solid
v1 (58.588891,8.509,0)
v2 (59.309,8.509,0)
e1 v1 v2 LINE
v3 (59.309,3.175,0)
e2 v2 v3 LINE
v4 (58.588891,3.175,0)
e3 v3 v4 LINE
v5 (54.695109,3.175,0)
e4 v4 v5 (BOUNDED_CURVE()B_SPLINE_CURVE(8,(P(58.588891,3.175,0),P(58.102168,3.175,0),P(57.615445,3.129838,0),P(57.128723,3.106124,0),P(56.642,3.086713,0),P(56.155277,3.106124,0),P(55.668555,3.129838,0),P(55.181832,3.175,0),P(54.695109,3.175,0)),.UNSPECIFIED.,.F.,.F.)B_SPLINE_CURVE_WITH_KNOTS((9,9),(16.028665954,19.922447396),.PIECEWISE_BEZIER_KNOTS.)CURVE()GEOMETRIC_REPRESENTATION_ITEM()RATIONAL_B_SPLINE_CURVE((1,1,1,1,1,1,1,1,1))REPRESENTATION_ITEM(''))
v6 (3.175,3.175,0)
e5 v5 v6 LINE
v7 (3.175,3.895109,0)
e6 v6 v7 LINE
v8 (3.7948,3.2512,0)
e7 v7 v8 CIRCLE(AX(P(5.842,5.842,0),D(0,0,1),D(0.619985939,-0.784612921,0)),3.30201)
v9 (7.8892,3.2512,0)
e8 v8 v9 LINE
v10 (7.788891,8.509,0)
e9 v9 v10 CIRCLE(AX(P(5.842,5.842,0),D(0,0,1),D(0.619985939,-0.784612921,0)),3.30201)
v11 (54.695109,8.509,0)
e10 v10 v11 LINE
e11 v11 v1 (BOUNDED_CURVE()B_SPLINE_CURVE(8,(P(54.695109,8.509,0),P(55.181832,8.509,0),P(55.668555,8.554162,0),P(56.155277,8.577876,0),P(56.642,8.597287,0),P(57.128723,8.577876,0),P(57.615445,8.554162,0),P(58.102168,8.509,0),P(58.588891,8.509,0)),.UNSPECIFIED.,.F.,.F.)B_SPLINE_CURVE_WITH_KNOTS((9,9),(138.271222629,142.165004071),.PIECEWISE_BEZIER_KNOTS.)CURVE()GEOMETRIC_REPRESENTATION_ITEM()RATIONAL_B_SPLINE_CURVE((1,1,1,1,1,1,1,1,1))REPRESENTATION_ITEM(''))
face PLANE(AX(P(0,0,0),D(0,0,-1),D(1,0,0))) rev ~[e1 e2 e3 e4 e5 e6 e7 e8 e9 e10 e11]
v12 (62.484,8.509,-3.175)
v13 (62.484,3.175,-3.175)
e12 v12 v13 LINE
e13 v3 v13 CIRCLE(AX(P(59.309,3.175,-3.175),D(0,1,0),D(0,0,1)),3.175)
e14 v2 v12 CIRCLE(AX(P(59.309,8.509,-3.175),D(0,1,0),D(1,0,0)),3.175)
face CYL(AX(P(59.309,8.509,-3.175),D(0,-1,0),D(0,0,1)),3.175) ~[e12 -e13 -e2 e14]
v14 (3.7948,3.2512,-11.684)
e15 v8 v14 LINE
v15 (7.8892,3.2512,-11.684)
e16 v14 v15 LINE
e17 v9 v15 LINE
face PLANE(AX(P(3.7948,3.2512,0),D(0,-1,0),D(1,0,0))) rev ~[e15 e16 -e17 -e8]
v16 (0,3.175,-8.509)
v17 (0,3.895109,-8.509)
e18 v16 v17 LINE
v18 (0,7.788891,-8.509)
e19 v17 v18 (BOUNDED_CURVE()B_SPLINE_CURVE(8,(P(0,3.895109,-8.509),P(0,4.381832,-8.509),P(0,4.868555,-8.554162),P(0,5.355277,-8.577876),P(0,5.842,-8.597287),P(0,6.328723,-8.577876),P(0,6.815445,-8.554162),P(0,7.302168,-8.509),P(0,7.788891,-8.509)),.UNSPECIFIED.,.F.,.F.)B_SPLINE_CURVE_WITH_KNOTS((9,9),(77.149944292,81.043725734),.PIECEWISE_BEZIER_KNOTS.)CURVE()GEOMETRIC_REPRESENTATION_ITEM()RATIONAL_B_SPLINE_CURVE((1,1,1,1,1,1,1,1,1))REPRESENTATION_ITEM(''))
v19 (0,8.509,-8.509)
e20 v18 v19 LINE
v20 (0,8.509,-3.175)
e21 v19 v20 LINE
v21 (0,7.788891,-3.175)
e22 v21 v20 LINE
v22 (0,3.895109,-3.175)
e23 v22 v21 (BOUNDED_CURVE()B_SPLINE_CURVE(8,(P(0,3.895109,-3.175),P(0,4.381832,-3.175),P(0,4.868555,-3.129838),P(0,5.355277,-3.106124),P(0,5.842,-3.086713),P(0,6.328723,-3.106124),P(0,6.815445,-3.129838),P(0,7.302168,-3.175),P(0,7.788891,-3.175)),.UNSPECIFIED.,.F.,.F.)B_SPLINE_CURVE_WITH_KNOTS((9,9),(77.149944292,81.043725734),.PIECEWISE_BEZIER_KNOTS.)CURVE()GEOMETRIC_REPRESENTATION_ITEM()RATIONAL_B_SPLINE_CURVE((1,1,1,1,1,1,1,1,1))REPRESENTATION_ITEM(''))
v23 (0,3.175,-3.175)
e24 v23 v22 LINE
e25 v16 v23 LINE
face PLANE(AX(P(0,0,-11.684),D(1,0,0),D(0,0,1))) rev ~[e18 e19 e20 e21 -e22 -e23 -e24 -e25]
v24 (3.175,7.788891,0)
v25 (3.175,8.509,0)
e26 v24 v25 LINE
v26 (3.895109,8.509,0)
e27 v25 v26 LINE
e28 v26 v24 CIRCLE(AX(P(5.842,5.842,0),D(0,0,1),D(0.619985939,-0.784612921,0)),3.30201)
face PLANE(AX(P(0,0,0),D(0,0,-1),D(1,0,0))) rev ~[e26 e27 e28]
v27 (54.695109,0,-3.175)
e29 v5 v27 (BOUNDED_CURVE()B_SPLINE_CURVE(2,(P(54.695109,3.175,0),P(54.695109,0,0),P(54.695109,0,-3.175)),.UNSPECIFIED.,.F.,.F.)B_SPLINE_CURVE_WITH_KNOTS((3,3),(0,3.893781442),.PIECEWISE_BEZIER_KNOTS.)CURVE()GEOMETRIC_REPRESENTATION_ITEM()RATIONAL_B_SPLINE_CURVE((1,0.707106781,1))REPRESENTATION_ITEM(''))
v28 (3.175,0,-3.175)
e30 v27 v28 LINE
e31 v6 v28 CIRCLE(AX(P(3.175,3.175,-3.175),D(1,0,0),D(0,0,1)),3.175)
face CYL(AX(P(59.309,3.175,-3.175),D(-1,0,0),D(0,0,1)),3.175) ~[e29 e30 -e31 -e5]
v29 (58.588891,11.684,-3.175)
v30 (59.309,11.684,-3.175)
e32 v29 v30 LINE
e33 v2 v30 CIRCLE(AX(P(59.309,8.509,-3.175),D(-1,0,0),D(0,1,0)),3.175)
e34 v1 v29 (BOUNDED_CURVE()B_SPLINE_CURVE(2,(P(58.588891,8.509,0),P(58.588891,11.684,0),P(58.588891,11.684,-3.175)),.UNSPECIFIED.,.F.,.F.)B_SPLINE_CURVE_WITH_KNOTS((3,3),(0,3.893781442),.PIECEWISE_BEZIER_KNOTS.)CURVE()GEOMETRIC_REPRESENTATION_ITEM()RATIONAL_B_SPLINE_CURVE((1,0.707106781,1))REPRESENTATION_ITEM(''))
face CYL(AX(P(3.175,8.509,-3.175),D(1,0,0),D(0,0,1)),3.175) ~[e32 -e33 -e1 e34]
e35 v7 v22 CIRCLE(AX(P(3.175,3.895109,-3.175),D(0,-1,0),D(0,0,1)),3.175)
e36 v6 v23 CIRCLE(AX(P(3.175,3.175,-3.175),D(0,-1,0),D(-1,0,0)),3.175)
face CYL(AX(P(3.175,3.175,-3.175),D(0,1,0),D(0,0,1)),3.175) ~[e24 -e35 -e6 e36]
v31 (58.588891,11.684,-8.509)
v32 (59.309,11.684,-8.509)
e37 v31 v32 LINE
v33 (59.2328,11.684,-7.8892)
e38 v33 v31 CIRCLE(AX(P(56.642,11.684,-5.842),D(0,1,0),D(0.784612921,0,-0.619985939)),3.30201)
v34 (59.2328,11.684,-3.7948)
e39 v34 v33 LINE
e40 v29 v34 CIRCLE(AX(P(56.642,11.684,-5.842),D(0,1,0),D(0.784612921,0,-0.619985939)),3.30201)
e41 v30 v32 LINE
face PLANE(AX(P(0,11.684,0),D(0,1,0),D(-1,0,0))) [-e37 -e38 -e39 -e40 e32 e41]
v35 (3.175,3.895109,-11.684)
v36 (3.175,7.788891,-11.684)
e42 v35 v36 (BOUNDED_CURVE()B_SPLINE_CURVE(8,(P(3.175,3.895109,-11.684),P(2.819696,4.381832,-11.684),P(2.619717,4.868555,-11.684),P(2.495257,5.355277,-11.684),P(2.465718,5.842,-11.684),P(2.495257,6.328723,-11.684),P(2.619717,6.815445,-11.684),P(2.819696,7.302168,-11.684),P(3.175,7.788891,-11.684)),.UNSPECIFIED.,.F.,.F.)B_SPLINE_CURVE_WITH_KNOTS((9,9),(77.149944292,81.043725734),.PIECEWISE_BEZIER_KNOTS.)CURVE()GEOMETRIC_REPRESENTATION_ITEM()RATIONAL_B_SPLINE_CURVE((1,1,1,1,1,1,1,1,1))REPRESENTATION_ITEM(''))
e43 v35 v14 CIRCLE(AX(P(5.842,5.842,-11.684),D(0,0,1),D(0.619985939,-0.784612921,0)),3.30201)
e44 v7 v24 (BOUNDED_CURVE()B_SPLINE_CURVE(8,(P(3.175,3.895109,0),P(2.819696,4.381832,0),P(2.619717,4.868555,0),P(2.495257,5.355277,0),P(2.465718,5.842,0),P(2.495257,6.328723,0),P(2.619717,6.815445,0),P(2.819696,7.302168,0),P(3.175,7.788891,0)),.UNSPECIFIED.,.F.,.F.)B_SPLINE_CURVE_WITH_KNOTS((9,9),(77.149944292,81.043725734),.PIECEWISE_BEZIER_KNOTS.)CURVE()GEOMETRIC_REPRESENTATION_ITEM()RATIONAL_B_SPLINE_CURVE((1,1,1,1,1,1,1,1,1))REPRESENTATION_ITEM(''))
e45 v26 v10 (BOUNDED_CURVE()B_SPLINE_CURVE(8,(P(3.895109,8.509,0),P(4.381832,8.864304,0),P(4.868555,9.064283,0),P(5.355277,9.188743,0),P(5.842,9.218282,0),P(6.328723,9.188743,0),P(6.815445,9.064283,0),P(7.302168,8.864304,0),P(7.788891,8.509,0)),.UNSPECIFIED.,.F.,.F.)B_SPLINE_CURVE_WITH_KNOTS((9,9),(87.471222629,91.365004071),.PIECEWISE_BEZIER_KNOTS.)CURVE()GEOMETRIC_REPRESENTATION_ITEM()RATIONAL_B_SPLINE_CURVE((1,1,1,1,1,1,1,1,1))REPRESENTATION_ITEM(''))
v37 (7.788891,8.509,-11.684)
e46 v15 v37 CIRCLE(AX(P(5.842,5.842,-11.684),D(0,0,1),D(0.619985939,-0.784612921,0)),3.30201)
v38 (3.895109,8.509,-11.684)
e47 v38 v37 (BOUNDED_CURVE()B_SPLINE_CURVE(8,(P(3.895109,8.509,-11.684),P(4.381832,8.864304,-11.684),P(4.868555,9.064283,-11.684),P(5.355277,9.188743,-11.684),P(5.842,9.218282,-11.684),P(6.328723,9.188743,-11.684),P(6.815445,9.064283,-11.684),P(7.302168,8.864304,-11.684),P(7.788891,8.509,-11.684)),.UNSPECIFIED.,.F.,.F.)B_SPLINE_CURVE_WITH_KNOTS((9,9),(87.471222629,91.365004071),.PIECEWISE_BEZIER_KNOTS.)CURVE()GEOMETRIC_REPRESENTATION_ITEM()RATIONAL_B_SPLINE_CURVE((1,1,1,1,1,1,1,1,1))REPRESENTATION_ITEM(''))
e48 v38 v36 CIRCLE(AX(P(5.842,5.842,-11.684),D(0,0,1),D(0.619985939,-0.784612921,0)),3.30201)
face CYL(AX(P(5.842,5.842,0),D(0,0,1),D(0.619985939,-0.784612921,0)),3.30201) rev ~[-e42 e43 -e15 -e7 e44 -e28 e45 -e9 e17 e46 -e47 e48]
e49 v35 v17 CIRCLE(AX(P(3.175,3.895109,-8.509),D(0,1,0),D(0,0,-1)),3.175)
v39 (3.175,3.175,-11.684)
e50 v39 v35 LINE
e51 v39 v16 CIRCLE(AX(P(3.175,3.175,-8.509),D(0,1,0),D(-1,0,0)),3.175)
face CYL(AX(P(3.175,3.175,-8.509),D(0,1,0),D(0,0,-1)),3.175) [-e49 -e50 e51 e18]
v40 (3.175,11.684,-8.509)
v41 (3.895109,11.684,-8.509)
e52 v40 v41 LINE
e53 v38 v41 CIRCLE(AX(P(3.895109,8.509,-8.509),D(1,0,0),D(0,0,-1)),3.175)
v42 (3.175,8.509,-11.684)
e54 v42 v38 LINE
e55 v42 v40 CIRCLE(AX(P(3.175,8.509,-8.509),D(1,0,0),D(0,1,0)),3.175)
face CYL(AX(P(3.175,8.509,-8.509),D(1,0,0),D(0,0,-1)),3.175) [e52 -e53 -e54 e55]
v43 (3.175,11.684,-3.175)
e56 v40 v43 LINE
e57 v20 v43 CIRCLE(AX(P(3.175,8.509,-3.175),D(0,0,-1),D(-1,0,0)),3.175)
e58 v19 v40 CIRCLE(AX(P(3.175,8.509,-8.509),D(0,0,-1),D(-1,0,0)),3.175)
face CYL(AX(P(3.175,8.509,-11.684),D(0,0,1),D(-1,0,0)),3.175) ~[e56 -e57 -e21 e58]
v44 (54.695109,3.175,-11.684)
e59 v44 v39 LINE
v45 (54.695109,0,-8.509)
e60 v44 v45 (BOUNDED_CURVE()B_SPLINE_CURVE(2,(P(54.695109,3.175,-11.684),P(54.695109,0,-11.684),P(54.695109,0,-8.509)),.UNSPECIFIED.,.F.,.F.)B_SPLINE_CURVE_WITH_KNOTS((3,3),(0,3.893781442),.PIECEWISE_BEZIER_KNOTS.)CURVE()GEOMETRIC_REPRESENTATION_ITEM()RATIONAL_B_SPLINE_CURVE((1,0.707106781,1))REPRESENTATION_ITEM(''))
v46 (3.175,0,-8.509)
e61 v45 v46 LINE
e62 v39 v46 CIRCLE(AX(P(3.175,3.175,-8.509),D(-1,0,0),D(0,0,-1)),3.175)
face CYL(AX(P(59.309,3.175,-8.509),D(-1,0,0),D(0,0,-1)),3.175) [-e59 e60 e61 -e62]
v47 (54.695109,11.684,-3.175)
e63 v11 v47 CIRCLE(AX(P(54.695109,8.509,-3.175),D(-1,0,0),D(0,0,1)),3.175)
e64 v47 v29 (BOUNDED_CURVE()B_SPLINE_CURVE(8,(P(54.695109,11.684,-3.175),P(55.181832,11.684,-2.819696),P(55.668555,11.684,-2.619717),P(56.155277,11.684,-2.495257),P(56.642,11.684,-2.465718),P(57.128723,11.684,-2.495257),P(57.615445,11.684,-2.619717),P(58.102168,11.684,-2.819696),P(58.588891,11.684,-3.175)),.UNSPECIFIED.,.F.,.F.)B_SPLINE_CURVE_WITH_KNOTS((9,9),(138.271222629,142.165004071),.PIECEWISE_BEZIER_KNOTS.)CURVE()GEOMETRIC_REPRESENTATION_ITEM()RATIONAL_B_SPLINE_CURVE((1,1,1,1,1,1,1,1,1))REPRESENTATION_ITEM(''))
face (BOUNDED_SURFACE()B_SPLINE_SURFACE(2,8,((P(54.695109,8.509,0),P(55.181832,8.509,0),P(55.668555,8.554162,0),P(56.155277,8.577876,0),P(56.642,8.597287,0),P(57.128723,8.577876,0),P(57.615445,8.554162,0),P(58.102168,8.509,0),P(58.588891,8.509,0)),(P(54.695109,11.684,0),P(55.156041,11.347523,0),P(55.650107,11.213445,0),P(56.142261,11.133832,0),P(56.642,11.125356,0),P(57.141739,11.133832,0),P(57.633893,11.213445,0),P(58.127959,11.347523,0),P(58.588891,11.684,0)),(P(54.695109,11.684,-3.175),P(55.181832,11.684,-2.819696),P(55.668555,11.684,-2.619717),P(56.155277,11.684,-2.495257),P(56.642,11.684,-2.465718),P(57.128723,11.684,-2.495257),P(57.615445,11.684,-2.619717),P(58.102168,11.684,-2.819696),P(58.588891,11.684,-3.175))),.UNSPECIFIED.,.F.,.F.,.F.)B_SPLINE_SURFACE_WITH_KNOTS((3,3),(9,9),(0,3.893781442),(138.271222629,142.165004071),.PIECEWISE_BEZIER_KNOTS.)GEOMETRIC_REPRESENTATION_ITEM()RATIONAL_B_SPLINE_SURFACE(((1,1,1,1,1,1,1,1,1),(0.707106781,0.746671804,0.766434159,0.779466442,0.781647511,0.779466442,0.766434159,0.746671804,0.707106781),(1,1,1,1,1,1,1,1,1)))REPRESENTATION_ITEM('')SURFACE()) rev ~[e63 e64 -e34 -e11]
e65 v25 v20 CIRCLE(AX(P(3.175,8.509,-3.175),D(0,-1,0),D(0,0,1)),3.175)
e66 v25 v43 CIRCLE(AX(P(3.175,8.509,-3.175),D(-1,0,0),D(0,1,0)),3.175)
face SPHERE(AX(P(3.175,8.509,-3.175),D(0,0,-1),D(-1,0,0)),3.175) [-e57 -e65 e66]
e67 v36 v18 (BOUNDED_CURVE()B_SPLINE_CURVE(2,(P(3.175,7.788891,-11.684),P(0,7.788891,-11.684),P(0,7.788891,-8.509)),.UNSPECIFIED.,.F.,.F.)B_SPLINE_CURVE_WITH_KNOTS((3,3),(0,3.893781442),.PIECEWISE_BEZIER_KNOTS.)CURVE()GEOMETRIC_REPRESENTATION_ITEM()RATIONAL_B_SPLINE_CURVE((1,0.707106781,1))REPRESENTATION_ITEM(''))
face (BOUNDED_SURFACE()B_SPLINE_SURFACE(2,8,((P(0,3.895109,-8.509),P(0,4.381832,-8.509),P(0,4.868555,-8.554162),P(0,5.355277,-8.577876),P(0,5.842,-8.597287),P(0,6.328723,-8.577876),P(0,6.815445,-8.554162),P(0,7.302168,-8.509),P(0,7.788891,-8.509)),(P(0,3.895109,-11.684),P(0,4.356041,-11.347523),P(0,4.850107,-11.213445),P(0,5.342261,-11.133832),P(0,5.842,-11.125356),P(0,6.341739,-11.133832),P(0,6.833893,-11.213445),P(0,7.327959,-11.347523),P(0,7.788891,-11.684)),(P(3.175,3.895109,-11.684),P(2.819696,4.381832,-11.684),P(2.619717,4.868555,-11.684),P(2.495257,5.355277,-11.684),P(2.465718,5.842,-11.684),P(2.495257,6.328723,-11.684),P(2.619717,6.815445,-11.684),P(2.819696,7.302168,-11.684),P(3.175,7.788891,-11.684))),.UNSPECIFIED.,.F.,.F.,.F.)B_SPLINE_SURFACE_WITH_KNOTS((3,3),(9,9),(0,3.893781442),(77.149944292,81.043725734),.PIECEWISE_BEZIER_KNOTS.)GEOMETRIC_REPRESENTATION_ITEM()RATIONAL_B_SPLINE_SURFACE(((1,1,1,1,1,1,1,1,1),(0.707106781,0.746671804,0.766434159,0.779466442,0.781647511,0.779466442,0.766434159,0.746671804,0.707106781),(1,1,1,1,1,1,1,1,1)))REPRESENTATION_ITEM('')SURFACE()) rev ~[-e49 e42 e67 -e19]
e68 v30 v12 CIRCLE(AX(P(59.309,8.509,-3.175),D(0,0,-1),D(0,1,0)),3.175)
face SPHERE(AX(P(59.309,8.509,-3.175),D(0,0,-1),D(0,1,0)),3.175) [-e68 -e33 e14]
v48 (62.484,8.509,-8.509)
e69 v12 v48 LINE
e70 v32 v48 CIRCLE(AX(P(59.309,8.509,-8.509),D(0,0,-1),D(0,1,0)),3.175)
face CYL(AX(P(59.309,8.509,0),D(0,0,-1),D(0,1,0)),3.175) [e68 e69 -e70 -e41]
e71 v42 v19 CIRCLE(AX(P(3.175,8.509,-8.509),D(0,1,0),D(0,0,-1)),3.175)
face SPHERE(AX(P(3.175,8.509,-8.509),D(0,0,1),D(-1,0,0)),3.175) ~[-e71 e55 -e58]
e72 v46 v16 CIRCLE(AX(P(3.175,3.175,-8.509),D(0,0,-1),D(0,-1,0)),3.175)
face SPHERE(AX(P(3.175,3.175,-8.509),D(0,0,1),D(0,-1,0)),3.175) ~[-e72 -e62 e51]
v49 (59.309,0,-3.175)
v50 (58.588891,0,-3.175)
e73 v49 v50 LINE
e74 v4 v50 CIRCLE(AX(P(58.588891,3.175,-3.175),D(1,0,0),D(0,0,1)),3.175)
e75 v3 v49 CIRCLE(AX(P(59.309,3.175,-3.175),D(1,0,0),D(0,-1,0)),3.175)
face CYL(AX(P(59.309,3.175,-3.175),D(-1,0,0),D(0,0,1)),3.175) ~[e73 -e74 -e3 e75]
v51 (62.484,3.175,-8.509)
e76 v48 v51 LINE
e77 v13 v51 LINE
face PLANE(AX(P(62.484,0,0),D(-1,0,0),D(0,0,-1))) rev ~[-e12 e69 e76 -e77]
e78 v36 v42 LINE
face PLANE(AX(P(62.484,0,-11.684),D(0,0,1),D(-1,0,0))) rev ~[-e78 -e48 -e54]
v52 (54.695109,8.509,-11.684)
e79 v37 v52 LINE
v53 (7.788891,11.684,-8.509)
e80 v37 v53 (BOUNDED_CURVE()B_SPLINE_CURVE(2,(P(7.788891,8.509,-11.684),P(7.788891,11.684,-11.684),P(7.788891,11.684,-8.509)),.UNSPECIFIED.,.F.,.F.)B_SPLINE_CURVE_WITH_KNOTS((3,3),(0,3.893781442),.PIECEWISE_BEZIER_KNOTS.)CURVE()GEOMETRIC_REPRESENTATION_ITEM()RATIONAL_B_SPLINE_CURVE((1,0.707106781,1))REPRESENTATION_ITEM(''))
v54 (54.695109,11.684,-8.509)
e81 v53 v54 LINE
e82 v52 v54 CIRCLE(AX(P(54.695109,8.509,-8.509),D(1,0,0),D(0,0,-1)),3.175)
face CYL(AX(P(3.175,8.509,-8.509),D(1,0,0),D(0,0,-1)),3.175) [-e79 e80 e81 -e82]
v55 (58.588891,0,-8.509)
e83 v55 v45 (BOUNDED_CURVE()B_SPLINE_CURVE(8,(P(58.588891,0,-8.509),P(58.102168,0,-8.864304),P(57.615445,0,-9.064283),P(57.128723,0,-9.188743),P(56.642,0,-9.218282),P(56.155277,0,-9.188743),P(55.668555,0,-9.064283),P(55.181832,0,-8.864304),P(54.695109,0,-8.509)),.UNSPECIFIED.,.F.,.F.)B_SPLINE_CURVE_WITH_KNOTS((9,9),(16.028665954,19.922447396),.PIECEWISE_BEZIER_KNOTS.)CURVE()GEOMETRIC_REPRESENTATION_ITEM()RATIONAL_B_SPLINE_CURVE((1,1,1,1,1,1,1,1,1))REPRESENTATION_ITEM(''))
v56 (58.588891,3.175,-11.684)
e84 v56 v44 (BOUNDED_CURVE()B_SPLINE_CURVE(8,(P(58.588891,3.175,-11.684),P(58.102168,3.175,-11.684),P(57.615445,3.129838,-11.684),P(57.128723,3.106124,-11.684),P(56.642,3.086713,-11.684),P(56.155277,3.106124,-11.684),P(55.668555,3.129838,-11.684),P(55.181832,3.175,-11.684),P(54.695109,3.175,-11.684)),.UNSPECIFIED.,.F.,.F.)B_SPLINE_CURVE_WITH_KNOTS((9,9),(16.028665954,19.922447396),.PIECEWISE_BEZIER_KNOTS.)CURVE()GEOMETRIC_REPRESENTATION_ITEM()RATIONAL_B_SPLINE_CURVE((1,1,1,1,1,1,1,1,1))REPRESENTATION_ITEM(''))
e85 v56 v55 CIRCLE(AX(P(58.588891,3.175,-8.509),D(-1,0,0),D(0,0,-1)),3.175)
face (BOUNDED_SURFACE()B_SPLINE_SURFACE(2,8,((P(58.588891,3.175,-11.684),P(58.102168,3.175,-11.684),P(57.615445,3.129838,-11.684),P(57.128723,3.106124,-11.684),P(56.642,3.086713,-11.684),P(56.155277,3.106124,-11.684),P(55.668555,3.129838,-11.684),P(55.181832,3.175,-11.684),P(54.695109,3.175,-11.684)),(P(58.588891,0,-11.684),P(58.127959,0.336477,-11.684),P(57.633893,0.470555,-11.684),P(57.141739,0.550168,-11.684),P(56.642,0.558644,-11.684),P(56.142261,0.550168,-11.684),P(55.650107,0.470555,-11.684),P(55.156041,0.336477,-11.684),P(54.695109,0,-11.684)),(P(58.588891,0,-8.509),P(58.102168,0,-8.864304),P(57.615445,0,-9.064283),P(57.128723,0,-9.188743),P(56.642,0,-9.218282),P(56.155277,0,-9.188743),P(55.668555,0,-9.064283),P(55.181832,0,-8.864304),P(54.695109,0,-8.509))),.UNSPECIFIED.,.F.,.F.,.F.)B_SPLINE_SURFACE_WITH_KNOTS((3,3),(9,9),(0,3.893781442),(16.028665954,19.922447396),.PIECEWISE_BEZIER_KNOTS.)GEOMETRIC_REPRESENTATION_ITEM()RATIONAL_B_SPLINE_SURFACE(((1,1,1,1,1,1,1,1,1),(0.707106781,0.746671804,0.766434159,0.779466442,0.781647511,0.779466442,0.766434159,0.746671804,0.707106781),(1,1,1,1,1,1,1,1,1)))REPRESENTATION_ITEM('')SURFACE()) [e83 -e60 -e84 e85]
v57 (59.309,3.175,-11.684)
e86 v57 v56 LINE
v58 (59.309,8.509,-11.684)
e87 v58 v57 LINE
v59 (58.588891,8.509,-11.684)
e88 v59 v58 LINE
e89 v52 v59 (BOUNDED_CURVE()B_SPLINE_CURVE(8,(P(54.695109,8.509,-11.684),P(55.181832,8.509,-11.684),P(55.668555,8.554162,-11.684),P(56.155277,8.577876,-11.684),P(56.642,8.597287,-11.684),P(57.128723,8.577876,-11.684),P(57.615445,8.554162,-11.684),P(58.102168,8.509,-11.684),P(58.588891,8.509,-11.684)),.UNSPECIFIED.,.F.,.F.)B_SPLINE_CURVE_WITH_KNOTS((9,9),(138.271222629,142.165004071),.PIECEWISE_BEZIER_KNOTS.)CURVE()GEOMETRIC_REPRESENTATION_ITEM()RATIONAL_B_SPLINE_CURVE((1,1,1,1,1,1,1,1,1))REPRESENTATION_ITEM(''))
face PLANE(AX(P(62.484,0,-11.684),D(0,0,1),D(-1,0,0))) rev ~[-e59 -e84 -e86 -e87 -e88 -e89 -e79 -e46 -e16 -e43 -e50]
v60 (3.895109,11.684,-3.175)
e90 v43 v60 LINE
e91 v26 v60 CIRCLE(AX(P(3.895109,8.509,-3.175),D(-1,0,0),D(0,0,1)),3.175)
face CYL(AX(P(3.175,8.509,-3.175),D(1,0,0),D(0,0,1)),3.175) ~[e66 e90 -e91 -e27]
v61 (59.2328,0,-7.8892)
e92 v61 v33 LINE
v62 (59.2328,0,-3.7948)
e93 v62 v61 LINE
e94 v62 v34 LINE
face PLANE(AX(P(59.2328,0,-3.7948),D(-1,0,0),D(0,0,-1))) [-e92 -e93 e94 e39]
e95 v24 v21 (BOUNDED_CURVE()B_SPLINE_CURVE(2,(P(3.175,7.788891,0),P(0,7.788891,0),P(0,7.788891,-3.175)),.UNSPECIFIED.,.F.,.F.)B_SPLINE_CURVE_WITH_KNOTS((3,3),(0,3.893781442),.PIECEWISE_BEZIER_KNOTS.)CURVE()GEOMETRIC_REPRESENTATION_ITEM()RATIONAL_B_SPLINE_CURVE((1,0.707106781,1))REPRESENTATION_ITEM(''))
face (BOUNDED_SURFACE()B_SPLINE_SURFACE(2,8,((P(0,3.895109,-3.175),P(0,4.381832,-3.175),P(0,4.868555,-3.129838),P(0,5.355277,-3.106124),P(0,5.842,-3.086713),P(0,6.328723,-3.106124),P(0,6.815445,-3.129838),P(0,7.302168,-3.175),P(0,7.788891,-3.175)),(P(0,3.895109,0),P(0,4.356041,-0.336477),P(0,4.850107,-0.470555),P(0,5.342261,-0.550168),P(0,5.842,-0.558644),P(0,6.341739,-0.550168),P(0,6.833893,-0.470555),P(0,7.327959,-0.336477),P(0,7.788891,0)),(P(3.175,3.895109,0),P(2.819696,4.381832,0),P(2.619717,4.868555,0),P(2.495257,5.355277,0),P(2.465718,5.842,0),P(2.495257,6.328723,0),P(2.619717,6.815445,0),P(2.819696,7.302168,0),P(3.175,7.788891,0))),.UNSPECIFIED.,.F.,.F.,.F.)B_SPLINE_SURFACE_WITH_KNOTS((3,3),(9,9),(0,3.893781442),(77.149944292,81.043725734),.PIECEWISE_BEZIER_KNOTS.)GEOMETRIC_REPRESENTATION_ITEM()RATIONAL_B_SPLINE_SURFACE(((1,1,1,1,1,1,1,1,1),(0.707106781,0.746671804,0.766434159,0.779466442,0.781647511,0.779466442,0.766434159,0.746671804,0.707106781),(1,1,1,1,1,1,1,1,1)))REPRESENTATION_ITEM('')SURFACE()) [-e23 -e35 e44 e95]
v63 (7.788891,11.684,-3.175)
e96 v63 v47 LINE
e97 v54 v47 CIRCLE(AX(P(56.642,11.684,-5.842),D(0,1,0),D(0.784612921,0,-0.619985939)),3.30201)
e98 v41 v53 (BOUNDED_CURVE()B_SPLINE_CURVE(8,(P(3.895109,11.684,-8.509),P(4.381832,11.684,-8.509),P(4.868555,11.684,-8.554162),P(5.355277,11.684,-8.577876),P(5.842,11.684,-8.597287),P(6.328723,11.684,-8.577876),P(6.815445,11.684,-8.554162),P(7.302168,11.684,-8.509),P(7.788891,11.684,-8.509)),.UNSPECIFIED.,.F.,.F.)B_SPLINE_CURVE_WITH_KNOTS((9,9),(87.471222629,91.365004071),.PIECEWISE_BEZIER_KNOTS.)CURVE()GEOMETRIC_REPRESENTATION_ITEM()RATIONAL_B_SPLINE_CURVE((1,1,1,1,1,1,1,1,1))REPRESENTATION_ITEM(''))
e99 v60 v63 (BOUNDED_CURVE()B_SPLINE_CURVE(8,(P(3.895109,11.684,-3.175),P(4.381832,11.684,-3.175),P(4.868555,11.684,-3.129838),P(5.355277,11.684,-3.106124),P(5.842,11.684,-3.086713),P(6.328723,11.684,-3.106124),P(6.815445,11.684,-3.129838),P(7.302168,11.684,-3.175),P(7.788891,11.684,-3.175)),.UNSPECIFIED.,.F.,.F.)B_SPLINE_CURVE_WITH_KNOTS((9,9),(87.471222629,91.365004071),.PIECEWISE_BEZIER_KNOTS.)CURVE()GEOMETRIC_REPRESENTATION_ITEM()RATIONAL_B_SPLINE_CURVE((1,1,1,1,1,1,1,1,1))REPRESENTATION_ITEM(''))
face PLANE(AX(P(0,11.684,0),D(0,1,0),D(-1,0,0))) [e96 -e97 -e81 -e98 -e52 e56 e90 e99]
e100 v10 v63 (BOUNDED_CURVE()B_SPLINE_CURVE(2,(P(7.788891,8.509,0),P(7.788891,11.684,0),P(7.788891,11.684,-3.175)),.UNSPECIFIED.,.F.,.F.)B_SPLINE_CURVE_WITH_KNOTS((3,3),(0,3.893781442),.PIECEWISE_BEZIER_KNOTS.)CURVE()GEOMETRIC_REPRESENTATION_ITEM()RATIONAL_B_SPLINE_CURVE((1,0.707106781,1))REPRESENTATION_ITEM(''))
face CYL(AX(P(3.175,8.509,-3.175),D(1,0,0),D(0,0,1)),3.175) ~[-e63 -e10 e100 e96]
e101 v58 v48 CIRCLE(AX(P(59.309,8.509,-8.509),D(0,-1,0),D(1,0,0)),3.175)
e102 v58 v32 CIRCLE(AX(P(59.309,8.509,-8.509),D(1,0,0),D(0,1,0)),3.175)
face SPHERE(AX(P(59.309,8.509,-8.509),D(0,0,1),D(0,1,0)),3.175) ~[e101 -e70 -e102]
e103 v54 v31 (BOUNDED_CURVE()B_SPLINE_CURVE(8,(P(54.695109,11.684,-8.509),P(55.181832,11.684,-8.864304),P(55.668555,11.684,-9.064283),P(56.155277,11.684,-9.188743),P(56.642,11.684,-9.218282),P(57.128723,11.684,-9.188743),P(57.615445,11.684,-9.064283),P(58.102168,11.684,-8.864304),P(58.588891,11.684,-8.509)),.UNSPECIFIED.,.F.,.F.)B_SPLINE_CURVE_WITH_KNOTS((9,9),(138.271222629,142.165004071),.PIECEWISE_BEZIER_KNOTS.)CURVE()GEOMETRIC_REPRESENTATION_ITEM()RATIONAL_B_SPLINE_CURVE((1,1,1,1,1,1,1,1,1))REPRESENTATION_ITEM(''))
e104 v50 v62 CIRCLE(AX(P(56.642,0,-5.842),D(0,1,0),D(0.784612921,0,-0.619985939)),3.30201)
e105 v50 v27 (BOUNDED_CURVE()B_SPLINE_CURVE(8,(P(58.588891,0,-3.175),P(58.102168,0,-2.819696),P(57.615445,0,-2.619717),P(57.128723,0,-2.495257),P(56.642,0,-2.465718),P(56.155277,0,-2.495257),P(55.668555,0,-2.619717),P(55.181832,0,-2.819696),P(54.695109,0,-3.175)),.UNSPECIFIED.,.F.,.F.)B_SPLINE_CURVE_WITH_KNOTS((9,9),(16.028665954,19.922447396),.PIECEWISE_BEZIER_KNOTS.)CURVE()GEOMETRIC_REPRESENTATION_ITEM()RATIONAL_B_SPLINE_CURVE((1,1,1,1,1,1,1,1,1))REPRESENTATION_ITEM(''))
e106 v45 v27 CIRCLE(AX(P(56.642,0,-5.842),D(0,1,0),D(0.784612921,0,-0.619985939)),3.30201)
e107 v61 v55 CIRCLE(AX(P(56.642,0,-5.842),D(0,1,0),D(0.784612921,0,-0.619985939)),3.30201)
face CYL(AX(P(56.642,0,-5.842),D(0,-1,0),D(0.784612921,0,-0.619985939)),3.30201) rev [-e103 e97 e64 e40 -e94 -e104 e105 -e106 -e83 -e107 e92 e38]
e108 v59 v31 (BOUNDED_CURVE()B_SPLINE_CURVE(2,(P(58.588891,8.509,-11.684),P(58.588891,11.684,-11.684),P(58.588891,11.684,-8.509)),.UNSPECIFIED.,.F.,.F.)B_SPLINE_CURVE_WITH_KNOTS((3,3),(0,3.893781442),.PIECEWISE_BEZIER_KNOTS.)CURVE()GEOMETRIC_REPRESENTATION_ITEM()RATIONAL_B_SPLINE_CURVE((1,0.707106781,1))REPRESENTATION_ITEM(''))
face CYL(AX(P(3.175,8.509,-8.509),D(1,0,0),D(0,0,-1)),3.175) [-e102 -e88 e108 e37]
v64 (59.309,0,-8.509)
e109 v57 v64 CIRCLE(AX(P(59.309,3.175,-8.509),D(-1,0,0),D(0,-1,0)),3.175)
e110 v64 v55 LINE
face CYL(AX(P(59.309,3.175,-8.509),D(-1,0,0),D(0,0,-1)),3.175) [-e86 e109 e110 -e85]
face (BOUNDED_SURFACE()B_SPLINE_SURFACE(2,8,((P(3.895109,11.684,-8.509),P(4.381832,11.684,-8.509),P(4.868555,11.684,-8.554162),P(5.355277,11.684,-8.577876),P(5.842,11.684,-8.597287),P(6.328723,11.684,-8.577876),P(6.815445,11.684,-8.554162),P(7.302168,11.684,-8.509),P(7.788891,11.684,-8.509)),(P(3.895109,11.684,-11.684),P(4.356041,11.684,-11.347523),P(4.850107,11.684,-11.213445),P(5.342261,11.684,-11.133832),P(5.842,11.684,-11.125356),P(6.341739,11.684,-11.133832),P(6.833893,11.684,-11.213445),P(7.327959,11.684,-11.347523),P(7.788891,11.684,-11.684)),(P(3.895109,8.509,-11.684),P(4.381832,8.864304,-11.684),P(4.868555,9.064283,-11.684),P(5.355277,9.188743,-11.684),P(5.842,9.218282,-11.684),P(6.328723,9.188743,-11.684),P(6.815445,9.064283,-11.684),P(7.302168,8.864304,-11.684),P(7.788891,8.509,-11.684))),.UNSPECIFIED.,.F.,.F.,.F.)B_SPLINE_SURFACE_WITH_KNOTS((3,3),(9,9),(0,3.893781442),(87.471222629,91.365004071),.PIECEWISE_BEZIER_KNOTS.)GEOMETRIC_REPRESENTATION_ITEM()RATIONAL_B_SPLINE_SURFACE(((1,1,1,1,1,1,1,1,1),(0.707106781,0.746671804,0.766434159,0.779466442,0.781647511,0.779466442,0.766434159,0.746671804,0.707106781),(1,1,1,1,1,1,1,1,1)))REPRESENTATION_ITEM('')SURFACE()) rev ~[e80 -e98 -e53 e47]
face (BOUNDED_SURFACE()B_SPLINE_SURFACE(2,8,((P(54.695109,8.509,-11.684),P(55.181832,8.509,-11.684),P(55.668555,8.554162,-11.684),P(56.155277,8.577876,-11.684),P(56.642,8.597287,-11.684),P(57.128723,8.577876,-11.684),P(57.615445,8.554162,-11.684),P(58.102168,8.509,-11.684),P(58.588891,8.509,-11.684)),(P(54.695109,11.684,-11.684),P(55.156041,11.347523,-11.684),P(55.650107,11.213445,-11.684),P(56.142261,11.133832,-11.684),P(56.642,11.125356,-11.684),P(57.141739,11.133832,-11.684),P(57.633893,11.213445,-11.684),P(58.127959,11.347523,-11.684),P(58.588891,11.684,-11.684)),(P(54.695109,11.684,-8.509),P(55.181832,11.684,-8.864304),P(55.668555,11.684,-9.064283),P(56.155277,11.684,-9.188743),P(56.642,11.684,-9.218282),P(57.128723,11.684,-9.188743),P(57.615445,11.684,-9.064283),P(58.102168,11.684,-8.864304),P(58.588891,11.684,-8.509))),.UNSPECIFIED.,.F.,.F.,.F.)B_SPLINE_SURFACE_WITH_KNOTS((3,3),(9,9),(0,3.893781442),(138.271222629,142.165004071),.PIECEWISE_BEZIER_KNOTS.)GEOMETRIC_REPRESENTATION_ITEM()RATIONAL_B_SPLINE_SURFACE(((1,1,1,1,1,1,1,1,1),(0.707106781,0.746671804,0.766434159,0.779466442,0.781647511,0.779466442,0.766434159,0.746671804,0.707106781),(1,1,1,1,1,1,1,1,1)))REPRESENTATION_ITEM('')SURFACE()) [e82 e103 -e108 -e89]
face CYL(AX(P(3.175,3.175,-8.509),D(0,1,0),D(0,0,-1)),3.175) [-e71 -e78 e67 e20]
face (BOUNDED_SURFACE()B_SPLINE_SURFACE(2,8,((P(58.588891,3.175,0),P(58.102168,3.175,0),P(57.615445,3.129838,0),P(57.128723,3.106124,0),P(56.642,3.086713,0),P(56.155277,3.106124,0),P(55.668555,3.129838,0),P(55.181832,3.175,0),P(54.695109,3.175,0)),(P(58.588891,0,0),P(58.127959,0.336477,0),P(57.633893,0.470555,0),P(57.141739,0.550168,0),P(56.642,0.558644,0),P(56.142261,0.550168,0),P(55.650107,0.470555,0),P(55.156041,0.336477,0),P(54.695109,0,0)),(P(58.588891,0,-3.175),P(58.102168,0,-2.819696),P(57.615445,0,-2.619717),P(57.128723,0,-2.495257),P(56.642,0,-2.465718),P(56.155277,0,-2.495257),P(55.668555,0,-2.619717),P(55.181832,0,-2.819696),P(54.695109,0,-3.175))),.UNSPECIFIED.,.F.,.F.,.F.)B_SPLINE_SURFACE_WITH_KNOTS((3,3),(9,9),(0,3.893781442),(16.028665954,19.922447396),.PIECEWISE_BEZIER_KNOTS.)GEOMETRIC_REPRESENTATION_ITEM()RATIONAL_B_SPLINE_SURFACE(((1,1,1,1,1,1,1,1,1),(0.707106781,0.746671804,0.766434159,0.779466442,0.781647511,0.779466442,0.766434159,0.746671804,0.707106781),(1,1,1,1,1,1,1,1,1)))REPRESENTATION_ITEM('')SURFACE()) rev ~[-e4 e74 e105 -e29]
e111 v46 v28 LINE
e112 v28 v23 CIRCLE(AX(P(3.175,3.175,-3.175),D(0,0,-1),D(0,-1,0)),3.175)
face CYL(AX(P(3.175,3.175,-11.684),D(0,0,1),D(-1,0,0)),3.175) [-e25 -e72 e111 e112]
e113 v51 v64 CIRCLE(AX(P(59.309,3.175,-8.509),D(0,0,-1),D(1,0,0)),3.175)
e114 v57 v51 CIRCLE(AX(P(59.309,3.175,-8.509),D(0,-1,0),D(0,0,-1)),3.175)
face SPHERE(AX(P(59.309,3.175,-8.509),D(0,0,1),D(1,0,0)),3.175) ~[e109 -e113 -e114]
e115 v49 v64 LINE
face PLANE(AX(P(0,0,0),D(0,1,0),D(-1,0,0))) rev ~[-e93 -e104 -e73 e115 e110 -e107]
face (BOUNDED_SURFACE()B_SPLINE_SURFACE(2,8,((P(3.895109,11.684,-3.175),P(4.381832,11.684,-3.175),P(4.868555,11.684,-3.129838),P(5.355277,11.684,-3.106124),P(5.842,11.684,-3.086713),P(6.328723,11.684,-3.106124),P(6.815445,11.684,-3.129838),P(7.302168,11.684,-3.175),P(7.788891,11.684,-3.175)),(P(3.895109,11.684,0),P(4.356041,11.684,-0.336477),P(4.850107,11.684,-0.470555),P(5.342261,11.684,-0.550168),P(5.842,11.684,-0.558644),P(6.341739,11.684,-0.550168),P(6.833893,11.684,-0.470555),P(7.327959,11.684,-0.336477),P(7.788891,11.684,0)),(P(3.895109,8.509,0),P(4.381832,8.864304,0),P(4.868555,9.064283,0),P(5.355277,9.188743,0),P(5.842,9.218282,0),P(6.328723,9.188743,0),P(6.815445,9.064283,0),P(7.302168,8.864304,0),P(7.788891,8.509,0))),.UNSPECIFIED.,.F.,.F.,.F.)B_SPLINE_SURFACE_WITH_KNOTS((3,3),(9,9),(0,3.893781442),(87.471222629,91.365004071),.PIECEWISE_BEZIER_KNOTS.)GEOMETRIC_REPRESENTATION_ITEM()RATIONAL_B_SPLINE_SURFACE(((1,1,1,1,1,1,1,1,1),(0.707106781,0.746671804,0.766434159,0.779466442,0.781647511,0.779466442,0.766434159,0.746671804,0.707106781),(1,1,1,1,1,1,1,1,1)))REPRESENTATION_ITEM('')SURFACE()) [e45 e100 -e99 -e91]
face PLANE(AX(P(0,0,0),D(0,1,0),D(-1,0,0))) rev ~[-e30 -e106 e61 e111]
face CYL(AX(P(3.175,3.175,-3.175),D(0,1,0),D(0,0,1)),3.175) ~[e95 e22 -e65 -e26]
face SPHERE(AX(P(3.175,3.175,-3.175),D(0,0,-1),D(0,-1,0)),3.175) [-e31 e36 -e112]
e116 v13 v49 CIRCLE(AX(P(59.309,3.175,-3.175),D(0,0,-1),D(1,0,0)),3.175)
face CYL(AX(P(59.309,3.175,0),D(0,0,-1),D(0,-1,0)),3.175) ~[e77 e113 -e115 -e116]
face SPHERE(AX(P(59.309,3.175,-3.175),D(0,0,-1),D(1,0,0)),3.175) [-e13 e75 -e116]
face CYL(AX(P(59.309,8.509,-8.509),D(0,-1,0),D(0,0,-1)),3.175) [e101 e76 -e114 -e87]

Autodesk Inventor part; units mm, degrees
ref_plane "YZ Plane" through (0, 0, 0) normal (1, 0, 0) x (0, 1, 0)
ref_plane "XZ Plane" through (0, 0, 0) normal (0, 1, 0) x (-1, 0, 0)
ref_plane "XY Plane" through (0, 0, 0) normal (0, 0, 1) x (1, 0, 0)
sketch "Sketch1" plane through (0, 0, 0) normal (0, 1, 0) x (-1, 0, 0)
  line L0 (0, 0) -> (-62.484, 0)
  line L1 (-62.484, 0) -> (-62.484, -11.684)
  line L2 (-62.484, -11.684) -> (0, -11.684)
  line L3 (0, -11.684) -> (0, 0)
  arc A0 (-59.2328, -7.8892) -> (-59.2328, -3.7948) centre (-56.642, -5.842) ccw
  line L4 (-59.2328, -3.7948) -> (-59.2328, -7.8892)
  dimension "d0" = 62.484
  dimension "d1" = 11.684
  dimension "d2" = 6.604
  dimension "d3" = 5.842
  dimension "d4" = 5.842
  dimension "d5" = 5.842
  dimension "d6" = 2.5908
extrude "Extrusion1" add sketch "Sketch1" along normal blind 11.684
sketch "Sketch3" plane through (0, 0, 0) normal (0, 0, 1) x (1, 0, 0)
  arc A0 (7.8892, 3.2512) -> (3.7948, 3.2512) centre (5.842, 5.842) ccw
  line L0 (0, 0) -> (0, 11.684) projected
  line L1 (0, 0) -> (62.484, 0) projected
  line L2 (3.7948, 3.2512) -> (7.8892, 3.2512)
  dimension "d9" = 6.604
  dimension "d10" = 5.842
  dimension "d11" = 5.842
  dimension "d12" = 2.5908
extrude "Extrusion2" cut sketch "Sketch3" against normal blind 11.684
fillet "Fillet1" radius 3.175 4 edges at (0, 11.684, -5.842) (0, 0, -5.842) (62.484, 11.684, -5.842) (62.484, 0, -5.842)
fillet "Fillet2" radius 3.175 16 edges at (61.5541, 10.7541, -11.684) (31.242, 11.684, -11.684) (0.9299, 10.7541, -11.684) (0, 5.842, -11.684) (0.9299, 0.9299, -11.684) (31.242, 0, -11.684) (61.5541, 0.9299, -11.684) (62.484, 5.842, -11.684) (61.5541, 10.7541, 0) (62.484, 5.842, 0) (61.5541, 0.9299, 0) (31.242, 0, 0) (0.9299, 0.9299, 0) (0, 5.842, 0) (0.9299, 10.7541, 0) (31.242, 11.684, 0)
properties part number "Carrier arm"
